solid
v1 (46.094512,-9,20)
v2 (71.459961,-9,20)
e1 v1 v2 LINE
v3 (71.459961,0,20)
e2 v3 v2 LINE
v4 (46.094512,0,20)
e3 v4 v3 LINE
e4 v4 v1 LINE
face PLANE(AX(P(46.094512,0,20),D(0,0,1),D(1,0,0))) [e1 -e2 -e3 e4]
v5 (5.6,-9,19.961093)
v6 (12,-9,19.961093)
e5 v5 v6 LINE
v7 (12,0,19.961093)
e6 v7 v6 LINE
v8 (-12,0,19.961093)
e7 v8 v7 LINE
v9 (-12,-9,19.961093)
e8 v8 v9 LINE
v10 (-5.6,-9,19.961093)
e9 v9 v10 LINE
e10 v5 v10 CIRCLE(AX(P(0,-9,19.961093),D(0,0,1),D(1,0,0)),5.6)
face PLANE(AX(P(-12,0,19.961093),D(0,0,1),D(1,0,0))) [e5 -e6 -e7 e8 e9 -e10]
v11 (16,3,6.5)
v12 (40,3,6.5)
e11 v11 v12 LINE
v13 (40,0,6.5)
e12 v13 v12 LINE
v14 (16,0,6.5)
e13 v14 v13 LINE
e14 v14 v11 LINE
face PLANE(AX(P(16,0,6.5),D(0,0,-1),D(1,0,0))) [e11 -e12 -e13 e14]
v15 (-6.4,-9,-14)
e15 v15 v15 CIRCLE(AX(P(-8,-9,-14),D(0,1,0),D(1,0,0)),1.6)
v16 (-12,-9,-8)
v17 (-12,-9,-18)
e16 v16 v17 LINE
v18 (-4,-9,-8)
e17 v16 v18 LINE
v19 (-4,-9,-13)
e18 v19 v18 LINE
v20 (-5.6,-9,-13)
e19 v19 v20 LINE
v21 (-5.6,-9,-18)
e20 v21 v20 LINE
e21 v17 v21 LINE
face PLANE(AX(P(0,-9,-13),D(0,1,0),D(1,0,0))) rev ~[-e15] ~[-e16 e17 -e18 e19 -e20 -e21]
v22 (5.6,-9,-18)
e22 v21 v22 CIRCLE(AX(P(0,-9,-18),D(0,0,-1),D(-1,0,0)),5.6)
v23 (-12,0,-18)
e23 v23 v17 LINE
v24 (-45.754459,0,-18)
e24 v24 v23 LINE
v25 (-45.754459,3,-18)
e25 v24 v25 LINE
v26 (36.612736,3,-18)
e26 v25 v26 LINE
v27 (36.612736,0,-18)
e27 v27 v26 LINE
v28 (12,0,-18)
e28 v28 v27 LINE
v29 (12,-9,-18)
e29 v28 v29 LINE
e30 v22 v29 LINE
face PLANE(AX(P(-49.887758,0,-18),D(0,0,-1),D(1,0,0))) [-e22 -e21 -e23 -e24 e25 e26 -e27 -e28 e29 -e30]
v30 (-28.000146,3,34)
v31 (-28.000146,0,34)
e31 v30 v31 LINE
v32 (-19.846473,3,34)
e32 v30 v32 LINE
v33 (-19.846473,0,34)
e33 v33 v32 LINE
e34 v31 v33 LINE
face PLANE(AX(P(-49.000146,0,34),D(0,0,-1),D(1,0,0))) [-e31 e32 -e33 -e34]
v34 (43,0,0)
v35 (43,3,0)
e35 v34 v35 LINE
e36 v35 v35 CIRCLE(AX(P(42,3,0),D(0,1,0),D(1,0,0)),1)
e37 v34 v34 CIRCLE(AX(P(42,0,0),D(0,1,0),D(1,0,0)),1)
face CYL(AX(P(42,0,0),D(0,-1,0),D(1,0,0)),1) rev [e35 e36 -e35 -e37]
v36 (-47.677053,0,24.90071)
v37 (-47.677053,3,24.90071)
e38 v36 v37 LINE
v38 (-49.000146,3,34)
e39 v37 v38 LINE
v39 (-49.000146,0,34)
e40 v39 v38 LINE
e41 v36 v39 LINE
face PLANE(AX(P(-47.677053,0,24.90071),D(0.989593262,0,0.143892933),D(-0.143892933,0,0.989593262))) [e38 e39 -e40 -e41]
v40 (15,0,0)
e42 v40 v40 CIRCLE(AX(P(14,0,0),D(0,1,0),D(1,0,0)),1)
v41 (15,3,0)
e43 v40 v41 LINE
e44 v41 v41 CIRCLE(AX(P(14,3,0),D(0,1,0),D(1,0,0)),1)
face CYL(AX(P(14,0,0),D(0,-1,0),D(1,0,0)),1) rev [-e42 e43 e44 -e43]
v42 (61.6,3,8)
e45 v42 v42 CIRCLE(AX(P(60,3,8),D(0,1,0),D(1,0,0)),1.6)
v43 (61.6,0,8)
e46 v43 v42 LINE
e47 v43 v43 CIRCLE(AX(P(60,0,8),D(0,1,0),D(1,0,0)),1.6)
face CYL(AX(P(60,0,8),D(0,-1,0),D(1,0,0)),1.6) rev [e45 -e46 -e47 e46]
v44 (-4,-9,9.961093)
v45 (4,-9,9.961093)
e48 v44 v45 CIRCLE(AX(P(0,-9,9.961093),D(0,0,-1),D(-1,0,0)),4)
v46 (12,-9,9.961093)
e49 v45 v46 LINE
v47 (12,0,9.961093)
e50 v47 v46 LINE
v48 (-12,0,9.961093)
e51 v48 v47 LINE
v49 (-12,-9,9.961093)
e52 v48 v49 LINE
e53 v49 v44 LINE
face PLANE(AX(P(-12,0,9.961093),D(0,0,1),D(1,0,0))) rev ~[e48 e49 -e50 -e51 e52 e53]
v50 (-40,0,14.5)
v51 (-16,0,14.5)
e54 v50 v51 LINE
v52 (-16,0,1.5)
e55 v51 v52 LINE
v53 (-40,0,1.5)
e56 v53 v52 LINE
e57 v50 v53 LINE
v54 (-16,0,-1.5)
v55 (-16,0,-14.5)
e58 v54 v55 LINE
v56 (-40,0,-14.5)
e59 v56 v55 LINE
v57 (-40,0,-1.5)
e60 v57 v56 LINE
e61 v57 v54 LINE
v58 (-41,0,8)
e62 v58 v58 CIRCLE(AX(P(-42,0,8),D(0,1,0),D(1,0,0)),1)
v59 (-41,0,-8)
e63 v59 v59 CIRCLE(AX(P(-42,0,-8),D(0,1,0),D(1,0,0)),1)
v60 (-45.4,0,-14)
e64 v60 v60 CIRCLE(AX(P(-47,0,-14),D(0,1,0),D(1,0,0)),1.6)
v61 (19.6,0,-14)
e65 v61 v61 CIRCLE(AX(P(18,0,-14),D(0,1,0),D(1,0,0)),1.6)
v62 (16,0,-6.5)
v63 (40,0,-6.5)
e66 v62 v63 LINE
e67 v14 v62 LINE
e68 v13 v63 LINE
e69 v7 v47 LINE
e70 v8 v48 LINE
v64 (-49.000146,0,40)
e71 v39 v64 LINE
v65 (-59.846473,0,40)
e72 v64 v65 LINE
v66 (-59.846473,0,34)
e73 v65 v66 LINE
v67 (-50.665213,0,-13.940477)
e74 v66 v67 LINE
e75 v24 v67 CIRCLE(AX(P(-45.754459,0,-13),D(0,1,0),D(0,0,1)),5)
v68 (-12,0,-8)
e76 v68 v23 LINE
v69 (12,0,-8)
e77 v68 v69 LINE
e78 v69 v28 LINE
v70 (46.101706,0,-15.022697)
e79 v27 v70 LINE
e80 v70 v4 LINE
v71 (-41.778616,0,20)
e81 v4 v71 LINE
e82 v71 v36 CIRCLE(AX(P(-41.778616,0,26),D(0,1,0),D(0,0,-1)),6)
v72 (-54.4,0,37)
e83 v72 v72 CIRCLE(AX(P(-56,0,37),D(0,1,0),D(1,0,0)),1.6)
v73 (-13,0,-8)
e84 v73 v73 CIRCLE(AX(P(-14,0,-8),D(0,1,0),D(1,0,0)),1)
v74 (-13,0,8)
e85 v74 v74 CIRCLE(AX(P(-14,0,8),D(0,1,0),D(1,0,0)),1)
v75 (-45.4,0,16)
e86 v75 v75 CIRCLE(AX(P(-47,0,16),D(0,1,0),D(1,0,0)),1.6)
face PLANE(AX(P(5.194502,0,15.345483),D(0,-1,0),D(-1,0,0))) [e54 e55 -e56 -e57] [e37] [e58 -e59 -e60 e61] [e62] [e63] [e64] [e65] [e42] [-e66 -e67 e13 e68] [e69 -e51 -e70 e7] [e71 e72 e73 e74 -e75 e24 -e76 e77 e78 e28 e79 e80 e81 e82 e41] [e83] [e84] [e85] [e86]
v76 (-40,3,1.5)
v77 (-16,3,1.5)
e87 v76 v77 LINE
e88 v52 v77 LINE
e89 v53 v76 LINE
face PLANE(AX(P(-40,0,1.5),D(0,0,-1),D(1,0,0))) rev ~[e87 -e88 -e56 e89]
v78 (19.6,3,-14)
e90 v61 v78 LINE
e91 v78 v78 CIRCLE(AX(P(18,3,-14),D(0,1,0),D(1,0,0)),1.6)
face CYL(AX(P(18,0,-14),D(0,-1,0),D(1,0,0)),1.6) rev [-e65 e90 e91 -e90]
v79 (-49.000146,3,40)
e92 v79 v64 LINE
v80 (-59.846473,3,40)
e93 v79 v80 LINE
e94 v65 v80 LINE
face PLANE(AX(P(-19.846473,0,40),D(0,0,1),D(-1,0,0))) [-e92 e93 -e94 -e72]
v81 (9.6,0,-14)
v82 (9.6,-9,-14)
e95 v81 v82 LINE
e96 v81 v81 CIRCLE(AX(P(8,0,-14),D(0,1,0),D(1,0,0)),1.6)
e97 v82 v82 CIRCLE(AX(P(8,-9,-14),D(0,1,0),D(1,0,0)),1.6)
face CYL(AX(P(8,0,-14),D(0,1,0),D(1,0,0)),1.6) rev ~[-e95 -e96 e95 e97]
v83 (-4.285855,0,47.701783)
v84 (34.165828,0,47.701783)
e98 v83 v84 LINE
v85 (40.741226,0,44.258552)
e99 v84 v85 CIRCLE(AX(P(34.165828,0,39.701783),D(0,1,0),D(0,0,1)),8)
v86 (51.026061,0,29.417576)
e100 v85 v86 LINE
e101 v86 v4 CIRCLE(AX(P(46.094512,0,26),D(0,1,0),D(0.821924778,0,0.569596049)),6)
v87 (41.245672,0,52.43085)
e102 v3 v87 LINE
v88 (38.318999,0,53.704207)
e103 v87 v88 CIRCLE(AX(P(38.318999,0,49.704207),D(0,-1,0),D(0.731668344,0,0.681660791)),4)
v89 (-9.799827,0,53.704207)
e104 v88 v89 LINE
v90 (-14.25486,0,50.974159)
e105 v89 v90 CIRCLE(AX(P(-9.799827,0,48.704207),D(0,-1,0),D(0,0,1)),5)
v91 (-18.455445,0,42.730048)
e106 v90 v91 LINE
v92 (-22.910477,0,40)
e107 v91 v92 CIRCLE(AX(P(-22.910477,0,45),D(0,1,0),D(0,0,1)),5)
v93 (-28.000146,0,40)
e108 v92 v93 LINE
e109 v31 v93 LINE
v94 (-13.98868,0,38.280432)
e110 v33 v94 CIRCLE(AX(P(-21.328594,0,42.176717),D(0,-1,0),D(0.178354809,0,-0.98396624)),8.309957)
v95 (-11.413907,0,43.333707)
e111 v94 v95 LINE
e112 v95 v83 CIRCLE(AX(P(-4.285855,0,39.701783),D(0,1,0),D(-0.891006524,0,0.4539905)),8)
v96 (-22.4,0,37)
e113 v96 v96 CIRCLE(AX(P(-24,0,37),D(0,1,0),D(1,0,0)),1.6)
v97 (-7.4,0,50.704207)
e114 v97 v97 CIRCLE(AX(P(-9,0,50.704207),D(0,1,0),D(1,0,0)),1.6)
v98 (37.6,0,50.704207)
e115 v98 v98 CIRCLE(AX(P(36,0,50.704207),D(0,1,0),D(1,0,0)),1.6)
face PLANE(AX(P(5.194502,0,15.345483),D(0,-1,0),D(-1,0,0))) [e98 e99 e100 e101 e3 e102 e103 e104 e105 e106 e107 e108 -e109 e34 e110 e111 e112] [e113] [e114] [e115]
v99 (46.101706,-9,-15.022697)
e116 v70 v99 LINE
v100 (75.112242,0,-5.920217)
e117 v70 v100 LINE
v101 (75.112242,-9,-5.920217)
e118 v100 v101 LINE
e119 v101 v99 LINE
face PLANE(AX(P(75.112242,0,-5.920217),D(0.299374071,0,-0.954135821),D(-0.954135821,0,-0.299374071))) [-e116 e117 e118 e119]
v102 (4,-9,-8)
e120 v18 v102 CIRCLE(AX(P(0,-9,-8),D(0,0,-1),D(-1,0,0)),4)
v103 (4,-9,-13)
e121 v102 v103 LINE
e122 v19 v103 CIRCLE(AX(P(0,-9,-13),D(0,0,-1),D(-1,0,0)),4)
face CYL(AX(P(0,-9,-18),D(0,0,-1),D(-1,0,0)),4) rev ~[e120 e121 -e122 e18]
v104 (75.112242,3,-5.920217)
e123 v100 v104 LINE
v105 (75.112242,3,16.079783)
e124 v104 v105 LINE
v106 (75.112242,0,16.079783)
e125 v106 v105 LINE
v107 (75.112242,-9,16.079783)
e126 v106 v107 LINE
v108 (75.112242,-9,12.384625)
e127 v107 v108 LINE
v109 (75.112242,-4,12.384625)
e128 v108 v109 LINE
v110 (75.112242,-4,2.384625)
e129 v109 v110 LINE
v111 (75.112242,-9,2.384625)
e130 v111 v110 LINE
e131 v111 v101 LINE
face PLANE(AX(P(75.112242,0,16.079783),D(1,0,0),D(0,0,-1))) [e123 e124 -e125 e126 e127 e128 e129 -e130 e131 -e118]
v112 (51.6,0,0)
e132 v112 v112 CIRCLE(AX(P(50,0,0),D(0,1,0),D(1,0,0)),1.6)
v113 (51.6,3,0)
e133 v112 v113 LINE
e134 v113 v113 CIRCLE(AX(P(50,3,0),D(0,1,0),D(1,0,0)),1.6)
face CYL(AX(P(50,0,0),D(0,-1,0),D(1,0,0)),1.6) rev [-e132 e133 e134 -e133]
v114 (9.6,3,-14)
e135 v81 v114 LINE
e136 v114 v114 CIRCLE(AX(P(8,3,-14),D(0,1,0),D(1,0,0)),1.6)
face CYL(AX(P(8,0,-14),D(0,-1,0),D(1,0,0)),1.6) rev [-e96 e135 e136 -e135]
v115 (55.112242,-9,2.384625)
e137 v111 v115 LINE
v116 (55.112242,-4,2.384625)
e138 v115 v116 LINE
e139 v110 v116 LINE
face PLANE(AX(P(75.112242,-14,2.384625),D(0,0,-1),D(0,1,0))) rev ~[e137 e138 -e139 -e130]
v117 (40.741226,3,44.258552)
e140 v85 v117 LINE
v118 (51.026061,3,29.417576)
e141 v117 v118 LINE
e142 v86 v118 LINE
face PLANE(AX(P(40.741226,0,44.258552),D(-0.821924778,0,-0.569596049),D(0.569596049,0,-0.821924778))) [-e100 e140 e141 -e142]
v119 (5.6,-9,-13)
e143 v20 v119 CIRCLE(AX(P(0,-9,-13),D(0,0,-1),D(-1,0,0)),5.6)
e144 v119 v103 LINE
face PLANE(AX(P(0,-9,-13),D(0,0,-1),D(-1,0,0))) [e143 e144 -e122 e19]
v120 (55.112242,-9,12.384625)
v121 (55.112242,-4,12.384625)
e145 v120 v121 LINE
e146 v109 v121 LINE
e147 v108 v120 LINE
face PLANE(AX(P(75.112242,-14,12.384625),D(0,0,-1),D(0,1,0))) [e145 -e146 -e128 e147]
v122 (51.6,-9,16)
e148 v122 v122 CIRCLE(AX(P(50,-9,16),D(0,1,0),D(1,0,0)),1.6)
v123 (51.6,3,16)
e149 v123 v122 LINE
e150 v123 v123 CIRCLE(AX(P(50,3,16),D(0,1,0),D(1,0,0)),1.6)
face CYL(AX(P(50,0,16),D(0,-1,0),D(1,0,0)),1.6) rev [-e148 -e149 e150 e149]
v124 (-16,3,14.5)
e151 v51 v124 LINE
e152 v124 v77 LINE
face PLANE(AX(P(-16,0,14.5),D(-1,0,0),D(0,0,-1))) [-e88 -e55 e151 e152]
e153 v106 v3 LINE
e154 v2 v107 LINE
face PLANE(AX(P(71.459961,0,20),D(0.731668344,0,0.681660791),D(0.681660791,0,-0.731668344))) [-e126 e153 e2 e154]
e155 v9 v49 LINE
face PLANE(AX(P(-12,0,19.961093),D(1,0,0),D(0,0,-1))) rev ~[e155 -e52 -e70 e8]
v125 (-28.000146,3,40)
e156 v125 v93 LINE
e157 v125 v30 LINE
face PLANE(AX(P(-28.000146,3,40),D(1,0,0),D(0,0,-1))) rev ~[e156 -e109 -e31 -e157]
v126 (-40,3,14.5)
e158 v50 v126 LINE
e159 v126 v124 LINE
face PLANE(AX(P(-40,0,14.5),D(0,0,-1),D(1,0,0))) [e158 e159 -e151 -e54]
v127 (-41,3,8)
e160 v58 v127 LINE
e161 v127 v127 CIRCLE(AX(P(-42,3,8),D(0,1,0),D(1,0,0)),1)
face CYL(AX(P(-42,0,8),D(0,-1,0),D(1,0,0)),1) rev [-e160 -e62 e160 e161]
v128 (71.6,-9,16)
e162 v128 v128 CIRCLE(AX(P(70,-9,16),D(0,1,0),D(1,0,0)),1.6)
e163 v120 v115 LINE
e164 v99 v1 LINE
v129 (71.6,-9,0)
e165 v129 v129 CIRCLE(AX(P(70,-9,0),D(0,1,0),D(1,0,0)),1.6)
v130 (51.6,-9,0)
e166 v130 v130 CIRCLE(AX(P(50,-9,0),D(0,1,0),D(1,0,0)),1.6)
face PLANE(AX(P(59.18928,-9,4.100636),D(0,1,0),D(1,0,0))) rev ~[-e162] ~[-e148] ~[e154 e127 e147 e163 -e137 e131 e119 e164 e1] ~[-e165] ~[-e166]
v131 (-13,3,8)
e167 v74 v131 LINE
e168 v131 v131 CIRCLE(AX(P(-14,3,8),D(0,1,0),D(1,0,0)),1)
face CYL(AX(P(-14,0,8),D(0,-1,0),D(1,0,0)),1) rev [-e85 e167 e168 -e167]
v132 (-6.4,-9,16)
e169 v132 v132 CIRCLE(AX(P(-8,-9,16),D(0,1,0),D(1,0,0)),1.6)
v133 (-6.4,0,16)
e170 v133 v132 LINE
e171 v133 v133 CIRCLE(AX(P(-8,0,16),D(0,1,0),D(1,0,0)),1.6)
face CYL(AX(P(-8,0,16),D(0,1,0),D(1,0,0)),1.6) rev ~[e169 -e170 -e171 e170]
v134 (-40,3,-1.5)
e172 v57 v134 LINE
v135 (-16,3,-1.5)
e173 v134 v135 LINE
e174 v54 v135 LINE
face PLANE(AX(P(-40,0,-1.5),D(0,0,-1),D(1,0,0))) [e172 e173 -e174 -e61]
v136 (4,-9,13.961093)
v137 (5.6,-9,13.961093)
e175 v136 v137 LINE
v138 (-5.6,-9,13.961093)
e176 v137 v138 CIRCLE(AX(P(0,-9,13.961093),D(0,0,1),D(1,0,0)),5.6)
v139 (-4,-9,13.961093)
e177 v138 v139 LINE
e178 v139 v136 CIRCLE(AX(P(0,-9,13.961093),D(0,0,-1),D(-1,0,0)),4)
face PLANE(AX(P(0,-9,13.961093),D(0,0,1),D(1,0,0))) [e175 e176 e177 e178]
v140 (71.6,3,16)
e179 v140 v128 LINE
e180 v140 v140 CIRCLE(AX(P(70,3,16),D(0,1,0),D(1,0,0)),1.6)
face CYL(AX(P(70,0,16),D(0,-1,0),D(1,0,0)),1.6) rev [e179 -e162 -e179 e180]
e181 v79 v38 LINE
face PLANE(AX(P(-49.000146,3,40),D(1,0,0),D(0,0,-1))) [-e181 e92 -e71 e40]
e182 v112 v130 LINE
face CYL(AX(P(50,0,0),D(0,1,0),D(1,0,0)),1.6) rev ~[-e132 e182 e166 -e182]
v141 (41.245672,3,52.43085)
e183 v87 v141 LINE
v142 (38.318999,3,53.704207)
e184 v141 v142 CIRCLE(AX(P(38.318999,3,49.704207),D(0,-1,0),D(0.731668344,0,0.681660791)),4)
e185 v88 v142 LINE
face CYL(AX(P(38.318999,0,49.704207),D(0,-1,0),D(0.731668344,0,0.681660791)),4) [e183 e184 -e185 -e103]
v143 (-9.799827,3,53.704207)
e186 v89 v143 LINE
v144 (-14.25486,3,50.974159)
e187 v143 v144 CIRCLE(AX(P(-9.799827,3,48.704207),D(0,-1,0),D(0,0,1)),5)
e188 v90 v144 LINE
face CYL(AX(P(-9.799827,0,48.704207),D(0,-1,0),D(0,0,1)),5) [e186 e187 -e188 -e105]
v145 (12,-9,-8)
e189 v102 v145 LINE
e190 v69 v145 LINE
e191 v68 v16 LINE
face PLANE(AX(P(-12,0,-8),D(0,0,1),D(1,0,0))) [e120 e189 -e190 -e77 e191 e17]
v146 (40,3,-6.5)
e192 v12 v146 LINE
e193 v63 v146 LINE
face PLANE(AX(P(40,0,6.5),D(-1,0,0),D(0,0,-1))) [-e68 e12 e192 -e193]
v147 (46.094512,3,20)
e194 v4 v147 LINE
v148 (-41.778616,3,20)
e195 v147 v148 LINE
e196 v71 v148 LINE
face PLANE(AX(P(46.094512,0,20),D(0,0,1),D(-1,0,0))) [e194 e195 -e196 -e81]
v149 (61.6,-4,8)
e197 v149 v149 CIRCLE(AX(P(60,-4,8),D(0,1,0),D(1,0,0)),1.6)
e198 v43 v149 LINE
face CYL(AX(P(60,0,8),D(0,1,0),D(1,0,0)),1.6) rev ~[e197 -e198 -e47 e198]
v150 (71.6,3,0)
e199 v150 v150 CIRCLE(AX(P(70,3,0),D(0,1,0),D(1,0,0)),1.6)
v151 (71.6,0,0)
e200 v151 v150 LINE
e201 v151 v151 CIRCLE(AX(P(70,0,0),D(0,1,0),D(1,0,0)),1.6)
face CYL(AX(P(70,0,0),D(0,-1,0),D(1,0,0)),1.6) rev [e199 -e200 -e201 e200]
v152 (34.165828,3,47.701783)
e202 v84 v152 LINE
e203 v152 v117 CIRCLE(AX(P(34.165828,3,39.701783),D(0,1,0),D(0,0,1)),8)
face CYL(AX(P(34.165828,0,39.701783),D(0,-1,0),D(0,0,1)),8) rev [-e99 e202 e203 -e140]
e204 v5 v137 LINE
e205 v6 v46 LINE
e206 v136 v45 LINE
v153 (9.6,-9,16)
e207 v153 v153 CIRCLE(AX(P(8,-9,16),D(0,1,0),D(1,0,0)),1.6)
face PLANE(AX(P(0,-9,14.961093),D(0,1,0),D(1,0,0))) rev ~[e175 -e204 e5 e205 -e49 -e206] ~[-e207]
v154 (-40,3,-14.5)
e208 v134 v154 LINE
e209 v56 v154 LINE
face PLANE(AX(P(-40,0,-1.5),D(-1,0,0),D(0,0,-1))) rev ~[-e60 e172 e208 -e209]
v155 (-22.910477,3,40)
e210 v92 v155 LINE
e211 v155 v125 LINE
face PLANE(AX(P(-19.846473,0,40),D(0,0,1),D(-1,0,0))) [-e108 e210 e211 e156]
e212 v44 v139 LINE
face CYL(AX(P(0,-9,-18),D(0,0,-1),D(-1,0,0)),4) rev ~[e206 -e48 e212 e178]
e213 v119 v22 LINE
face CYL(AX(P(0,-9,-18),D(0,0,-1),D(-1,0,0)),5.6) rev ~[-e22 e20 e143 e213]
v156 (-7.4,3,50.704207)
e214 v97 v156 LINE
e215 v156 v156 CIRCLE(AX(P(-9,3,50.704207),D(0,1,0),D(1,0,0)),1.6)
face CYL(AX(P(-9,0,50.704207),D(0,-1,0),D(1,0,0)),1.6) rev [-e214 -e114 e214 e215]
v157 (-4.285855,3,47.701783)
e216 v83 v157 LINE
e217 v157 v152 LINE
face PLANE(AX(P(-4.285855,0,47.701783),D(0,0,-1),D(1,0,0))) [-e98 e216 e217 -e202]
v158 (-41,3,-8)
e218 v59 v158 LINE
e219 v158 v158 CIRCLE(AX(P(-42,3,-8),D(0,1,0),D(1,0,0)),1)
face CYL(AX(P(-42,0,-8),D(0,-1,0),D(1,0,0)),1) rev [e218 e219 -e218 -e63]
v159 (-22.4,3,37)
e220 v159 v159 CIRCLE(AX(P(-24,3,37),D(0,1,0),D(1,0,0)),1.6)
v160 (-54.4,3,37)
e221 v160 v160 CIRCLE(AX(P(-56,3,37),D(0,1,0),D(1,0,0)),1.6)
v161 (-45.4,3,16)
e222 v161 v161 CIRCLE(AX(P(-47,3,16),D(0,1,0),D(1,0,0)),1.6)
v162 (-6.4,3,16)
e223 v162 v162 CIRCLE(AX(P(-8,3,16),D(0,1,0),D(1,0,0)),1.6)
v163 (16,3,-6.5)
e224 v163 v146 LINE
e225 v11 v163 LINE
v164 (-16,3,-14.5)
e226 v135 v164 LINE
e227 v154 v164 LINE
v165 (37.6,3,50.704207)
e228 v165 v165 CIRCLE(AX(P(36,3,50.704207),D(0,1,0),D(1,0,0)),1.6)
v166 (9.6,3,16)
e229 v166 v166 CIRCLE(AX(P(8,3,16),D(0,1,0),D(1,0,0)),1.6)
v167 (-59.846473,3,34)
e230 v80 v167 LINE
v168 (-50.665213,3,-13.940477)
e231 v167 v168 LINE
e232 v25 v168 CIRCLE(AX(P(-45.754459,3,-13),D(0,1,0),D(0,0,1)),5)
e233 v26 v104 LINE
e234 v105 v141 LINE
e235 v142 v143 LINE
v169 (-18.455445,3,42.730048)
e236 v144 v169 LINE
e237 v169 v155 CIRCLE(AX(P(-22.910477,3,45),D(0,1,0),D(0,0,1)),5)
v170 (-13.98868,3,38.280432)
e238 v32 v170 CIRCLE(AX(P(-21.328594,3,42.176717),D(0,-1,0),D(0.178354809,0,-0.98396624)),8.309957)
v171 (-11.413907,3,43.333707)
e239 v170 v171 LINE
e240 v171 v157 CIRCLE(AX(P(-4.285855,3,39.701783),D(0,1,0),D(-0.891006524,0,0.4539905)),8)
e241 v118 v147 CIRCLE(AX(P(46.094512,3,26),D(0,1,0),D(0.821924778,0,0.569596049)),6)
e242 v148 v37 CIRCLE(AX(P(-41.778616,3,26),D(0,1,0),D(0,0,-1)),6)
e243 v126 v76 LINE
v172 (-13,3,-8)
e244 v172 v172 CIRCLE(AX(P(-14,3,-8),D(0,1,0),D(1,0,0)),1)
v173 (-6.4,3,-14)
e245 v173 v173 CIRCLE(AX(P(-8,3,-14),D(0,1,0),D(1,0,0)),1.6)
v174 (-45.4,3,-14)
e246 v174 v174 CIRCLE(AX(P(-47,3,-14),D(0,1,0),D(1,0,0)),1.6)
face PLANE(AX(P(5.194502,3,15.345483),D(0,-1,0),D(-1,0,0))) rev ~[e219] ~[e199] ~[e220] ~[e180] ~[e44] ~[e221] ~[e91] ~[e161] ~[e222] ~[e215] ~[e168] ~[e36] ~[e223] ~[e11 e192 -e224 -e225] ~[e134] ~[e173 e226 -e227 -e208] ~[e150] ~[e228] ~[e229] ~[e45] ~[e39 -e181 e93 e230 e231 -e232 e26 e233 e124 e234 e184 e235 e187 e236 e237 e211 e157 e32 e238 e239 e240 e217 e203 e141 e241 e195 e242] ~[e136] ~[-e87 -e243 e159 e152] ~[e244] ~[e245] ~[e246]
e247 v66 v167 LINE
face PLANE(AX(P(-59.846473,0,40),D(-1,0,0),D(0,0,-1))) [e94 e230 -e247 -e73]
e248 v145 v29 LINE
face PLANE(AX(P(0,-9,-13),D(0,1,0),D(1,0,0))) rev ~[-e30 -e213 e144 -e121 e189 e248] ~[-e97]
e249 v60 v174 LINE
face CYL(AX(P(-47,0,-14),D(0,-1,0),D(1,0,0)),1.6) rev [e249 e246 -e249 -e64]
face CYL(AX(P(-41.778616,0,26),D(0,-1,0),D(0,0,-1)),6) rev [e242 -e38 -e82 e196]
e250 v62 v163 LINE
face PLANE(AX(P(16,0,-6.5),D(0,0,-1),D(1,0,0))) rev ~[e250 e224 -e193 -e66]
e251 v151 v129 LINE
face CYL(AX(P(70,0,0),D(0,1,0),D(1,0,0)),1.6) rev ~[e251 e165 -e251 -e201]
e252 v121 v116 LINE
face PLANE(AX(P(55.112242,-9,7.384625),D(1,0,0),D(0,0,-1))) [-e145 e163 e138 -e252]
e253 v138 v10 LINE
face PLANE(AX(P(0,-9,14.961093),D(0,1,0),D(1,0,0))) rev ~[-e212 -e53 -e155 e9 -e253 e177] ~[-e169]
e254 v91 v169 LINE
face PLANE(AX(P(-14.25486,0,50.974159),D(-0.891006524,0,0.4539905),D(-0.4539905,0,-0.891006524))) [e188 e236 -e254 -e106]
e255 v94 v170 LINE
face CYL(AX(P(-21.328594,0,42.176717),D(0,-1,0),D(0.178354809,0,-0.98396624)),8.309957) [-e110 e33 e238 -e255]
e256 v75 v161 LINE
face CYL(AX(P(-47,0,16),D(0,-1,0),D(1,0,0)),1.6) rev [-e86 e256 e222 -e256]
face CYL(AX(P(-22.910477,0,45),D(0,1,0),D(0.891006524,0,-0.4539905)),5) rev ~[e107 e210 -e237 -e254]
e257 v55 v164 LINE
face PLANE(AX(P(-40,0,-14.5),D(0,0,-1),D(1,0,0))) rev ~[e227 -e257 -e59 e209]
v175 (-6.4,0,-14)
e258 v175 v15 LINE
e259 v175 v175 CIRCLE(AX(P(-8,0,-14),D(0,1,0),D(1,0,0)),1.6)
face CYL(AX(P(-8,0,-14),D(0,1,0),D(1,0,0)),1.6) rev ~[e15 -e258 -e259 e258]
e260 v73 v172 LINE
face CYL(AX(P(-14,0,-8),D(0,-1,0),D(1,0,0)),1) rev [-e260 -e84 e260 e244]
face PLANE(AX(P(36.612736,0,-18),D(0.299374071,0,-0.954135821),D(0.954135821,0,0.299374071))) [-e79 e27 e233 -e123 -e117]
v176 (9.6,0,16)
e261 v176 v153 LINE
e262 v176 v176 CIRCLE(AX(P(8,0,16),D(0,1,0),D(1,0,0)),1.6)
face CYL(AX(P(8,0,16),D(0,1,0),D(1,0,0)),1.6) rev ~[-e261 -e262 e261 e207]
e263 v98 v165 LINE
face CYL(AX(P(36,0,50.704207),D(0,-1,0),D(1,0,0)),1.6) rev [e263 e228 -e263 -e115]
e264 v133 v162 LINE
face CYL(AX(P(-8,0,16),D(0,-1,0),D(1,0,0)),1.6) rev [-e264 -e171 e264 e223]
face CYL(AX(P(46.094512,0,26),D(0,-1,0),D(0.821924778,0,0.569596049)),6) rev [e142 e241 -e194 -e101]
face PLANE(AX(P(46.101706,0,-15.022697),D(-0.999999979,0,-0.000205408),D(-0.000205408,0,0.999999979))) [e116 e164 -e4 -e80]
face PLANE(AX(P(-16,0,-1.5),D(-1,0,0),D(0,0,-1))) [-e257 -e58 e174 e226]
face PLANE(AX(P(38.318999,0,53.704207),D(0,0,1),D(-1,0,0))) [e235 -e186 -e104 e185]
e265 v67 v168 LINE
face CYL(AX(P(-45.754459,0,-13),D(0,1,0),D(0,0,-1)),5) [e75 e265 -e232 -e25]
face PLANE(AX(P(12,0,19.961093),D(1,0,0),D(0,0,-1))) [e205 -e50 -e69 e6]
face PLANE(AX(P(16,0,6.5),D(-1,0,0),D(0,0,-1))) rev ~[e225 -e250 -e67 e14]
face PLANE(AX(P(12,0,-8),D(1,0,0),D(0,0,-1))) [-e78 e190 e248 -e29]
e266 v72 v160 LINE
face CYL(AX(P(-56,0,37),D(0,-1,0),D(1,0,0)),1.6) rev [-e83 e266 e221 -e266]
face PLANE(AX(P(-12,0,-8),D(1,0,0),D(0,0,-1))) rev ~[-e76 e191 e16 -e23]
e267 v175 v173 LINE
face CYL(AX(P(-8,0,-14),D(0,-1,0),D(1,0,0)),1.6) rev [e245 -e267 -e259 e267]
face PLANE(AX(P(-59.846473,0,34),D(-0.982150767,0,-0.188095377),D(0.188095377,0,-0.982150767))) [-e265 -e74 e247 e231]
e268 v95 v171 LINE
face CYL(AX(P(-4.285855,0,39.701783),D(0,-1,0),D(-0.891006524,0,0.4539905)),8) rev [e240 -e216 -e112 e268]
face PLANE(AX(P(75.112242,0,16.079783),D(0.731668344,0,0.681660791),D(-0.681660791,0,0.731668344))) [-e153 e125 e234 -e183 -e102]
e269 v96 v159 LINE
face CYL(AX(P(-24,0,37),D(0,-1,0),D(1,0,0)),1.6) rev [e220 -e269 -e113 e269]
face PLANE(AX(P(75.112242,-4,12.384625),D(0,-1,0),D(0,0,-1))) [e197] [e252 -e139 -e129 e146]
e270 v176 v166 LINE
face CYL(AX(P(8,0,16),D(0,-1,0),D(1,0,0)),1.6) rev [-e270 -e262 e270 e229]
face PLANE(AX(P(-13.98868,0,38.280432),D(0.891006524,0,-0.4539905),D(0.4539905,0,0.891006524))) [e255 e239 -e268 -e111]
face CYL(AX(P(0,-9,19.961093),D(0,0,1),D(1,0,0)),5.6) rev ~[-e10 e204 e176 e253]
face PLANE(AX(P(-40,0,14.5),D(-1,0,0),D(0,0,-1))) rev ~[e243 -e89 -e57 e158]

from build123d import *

# Parameters (mm, degrees)
SKETCH_1_R          = 1.6
SKETCH_1_R_2        = 1
SKETCH_1_W          = 24
SKETCH_1_H          = 13
EXTRUDE_1_DEPTH     = 3
SKETCH_2_R          = 1.6
SKETCH_2_W          = 24
SKETCH_2_H          = 10
EXTRUDE_2_DEPTH     = 9
SKETCH_3_W          = 10
SKETCH_3_H          = 10
CUT_EXTRUDE_1_DEPTH = 20
SKETCH_4_R          = 4
CUT_EXTRUDE_2_DEPTH = 72.704206567
SKETCH_6_R          = 5.6
CUT_EXTRUDE_3_DEPTH = 5
SKETCH_7_R          = 5.6
CUT_EXTRUDE_4_DEPTH = 6
FILLET_5_R          = 5
FILLET_6_R          = 5
SKETCH_8_W          = 21
SKETCH_8_H          = 6
CUT_EXTRUDE_5_DEPTH = 13


with BuildPart() as part:
    # Эскиз1 → Бобышка-Вытянуть1 (new body)
    with BuildSketch(Plane(origin=(0, 0, 0), x_dir=(1, 0, 0), z_dir=(0, 1, 0))):
        with BuildLine():
            Line((-59.846473334, -34), (-49.887758312, 18))
            Line((-49.887758312, 18), (36.612736258, 18))
            Line((36.612736258, 18), (75.112241688, 5.920216985))
            Line((75.112241688, 5.920216985), (75.112241688, -16.079783015))
            Line((75.112241688, -16.079783015), (41.245672077, -52.430849732))
            ThreePointArc((41.245672077, -52.430849732), (39.914841322, -53.372078747), (38.318998701, -53.704206567))
            Line((38.318998701, -53.704206567), (-9.799827382, -53.704206567))
            ThreePointArc((-9.799827382, -53.704206567), (-12.412320205, -52.967407389), (-14.254860003, -50.974159066))
            Line((-14.254860003, -50.974159066), (-19.846473334, -40))
            Line((-19.846473334, -40), (-59.846473334, -40))
            Line((-59.846473334, -40), (-59.846473334, -34))
        make_face()
        with Locations((-8, 14)):
            Circle(SKETCH_1_R, mode=Mode.SUBTRACT)
        with Locations((8, 14)):
            Circle(SKETCH_1_R, mode=Mode.SUBTRACT)
        with Locations((-8, -16)):
            Circle(SKETCH_1_R, mode=Mode.SUBTRACT)
        with Locations((8, -16)):
            Circle(SKETCH_1_R, mode=Mode.SUBTRACT)
        with Locations((-47, 14)):
            Circle(SKETCH_1_R, mode=Mode.SUBTRACT)
        with Locations((70, 0)):
            Circle(SKETCH_1_R, mode=Mode.SUBTRACT)
        with Locations((50, 0)):
            Circle(SKETCH_1_R, mode=Mode.SUBTRACT)
        with Locations((18, 14)):
            Circle(SKETCH_1_R, mode=Mode.SUBTRACT)
        with Locations((-47, -16)):
            Circle(SKETCH_1_R, mode=Mode.SUBTRACT)
        with Locations((-56, -37)):
            Circle(SKETCH_1_R, mode=Mode.SUBTRACT)
        with Locations((-24, -37)):
            Circle(SKETCH_1_R, mode=Mode.SUBTRACT)
        with Locations((50, -16)):
            Circle(SKETCH_1_R, mode=Mode.SUBTRACT)
        with Locations((70, -16)):
            Circle(SKETCH_1_R, mode=Mode.SUBTRACT)
        with Locations((-9, -50.704206567)):
            Circle(SKETCH_1_R, mode=Mode.SUBTRACT)
        with Locations((36, -50.704206567)):
            Circle(SKETCH_1_R, mode=Mode.SUBTRACT)
        with Locations((60, -8)):
            Circle(SKETCH_1_R, mode=Mode.SUBTRACT)
        with Locations((-42, -8)):
            Circle(SKETCH_1_R_2, mode=Mode.SUBTRACT)
        with Locations((-14, -8)):
            Circle(SKETCH_1_R_2, mode=Mode.SUBTRACT)
        with Locations((-42, 8)):
            Circle(SKETCH_1_R_2, mode=Mode.SUBTRACT)
        with Locations((-14, 8)):
            Circle(SKETCH_1_R_2, mode=Mode.SUBTRACT)
        with Locations((14, 0)):
            Circle(SKETCH_1_R_2, mode=Mode.SUBTRACT)
        with Locations((42, 0)):
            Circle(SKETCH_1_R_2, mode=Mode.SUBTRACT)
        with Locations((28, 0)):
            Rectangle(SKETCH_1_W, SKETCH_1_H, mode=Mode.SUBTRACT)
        with Locations((-28, 8)):
            Rectangle(SKETCH_1_W, SKETCH_1_H, mode=Mode.SUBTRACT)
        with Locations((-28, -8)):
            Rectangle(SKETCH_1_W, SKETCH_1_H, mode=Mode.SUBTRACT)
        with BuildLine():
            Line((-47.677053254, -24.900709984), (-49.000145857, -34))
            Line((-49.000145857, -34), (-22.297676486, -34))
            Line((-22.297676486, -34), (-19.846473334, -34))
            ThreePointArc((-19.846473334, -34), (-16.425778662, -35.467187694), (-13.988679802, -38.280431537))
            Line((-13.988679802, -38.280431537), (-11.413907263, -43.333707171))
            ThreePointArc((-11.413907263, -43.333707171), (-8.465843587, -46.522904488), (-4.28585507, -47.701783173))
            Line((-4.28585507, -47.701783173), (34.165827616, -47.701783173))
            ThreePointArc((34.165827616, -47.701783173), (37.877016972, -46.788889321), (40.741225842, -44.258551563))
            Line((40.741225842, -44.258551563), (51.02606102, -29.417576293))
            ThreePointArc((51.02606102, -29.417576293), (51.409841961, -23.216607983), (46.09451235, -20))
            Line((46.09451235, -20), (-41.778616049, -20))
            ThreePointArc((-41.778616049, -20), (-45.612951708, -21.385038456), (-47.677053254, -24.900709984))
        make_face(mode=Mode.SUBTRACT)
    extrude(amount=EXTRUDE_1_DEPTH)

    # Эскиз2 → Бобышка-Вытянуть2 (add)
    with BuildSketch(Plane(origin=(0, 0, 0), x_dir=(1, 0, 0), z_dir=(0, 1, 0))):
        Polygon((46.101706289, 15.022696844), (46.09451235, -20), (71.459960933, -20), (75.112241688, -16.079783015), (75.112241688, 5.920216985), align=None)
        with Locations((50, 0)):
            Circle(SKETCH_2_R, mode=Mode.SUBTRACT)
        with Locations((70, 0)):
            Circle(SKETCH_2_R, mode=Mode.SUBTRACT)
        with Locations((70, -16)):
            Circle(SKETCH_2_R, mode=Mode.SUBTRACT)
        with Locations((50, -16)):
            Circle(SKETCH_2_R, mode=Mode.SUBTRACT)
        with Locations((60, -8)):
            Circle(SKETCH_2_R, mode=Mode.SUBTRACT)
        with Locations((0, 13)):
            Rectangle(SKETCH_2_W, SKETCH_2_H)
        with Locations((-8, 14)):
            Circle(SKETCH_2_R, mode=Mode.SUBTRACT)
        with Locations((8, 14)):
            Circle(SKETCH_2_R, mode=Mode.SUBTRACT)
        with Locations((0, -14.961092538)):
            Rectangle(SKETCH_2_W, SKETCH_2_H)
        with Locations((-8, -16)):
            Circle(SKETCH_2_R, mode=Mode.SUBTRACT)
        with Locations((8, -16)):
            Circle(SKETCH_2_R, mode=Mode.SUBTRACT)
    extrude(amount=-EXTRUDE_2_DEPTH)

    # Эскиз3 → Вырез-Вытянуть1 (cut)
    with BuildSketch(Plane(origin=(75.112241688, 0, 0), x_dir=(0, 0, -1), z_dir=(1, 0, 0))):
        with Locations((-7.384625177, -9)):
            Rectangle(SKETCH_3_W, SKETCH_3_H)
    extrude(amount=-CUT_EXTRUDE_1_DEPTH, mode=Mode.SUBTRACT)

    # Эскиз4 → Вырез-Вытянуть2 (cut, through all)
    with BuildSketch(Plane(origin=(0, 0, -18), x_dir=(-1, 0, 0), z_dir=(0, 0, -1))):
        with Locations((0, -9)):
            Circle(SKETCH_4_R)
    extrude(amount=-CUT_EXTRUDE_2_DEPTH, mode=Mode.SUBTRACT)

    # Эскиз6 → Вырез-Вытянуть3 (cut)
    with BuildSketch(Plane(origin=(0, 0, -18), x_dir=(-1, 0, 0), z_dir=(0, 0, -1))):
        with Locations((0, -9)):
            Circle(SKETCH_6_R)
    extrude(amount=-CUT_EXTRUDE_3_DEPTH, mode=Mode.SUBTRACT)

    # Эскиз7 → Вырез-Вытянуть4 (cut)
    with BuildSketch(Plane.XY.offset(19.961092538)):
        with Locations((0, -9)):
            Circle(SKETCH_7_R)
    extrude(amount=-CUT_EXTRUDE_4_DEPTH, mode=Mode.SUBTRACT)

    # Скругление5
    fillet_5_edges = [part.edges().sort_by_distance(p)[0] for p in [
        (-49.887758312, 1.5, -18),
    ]]
    fillet(fillet_5_edges, radius=FILLET_5_R)

    # Скругление6
    fillet_6_edges = [part.edges().sort_by_distance(p)[0] for p in [
        (-19.846473334, 1.5, 40),
    ]]
    fillet(fillet_6_edges, radius=FILLET_6_R)

    # Эскиз8 → Вырез-Вытянуть5 (cut, through all)
    with BuildSketch(Plane(origin=(0, 3, 0), x_dir=(1, 0, 0), z_dir=(0, 1, 0))):
        with Locations((-38.500145857, -37)):
            Rectangle(SKETCH_8_W, SKETCH_8_H)
    extrude(amount=-CUT_EXTRUDE_5_DEPTH, mode=Mode.SUBTRACT)


solid = part.part
